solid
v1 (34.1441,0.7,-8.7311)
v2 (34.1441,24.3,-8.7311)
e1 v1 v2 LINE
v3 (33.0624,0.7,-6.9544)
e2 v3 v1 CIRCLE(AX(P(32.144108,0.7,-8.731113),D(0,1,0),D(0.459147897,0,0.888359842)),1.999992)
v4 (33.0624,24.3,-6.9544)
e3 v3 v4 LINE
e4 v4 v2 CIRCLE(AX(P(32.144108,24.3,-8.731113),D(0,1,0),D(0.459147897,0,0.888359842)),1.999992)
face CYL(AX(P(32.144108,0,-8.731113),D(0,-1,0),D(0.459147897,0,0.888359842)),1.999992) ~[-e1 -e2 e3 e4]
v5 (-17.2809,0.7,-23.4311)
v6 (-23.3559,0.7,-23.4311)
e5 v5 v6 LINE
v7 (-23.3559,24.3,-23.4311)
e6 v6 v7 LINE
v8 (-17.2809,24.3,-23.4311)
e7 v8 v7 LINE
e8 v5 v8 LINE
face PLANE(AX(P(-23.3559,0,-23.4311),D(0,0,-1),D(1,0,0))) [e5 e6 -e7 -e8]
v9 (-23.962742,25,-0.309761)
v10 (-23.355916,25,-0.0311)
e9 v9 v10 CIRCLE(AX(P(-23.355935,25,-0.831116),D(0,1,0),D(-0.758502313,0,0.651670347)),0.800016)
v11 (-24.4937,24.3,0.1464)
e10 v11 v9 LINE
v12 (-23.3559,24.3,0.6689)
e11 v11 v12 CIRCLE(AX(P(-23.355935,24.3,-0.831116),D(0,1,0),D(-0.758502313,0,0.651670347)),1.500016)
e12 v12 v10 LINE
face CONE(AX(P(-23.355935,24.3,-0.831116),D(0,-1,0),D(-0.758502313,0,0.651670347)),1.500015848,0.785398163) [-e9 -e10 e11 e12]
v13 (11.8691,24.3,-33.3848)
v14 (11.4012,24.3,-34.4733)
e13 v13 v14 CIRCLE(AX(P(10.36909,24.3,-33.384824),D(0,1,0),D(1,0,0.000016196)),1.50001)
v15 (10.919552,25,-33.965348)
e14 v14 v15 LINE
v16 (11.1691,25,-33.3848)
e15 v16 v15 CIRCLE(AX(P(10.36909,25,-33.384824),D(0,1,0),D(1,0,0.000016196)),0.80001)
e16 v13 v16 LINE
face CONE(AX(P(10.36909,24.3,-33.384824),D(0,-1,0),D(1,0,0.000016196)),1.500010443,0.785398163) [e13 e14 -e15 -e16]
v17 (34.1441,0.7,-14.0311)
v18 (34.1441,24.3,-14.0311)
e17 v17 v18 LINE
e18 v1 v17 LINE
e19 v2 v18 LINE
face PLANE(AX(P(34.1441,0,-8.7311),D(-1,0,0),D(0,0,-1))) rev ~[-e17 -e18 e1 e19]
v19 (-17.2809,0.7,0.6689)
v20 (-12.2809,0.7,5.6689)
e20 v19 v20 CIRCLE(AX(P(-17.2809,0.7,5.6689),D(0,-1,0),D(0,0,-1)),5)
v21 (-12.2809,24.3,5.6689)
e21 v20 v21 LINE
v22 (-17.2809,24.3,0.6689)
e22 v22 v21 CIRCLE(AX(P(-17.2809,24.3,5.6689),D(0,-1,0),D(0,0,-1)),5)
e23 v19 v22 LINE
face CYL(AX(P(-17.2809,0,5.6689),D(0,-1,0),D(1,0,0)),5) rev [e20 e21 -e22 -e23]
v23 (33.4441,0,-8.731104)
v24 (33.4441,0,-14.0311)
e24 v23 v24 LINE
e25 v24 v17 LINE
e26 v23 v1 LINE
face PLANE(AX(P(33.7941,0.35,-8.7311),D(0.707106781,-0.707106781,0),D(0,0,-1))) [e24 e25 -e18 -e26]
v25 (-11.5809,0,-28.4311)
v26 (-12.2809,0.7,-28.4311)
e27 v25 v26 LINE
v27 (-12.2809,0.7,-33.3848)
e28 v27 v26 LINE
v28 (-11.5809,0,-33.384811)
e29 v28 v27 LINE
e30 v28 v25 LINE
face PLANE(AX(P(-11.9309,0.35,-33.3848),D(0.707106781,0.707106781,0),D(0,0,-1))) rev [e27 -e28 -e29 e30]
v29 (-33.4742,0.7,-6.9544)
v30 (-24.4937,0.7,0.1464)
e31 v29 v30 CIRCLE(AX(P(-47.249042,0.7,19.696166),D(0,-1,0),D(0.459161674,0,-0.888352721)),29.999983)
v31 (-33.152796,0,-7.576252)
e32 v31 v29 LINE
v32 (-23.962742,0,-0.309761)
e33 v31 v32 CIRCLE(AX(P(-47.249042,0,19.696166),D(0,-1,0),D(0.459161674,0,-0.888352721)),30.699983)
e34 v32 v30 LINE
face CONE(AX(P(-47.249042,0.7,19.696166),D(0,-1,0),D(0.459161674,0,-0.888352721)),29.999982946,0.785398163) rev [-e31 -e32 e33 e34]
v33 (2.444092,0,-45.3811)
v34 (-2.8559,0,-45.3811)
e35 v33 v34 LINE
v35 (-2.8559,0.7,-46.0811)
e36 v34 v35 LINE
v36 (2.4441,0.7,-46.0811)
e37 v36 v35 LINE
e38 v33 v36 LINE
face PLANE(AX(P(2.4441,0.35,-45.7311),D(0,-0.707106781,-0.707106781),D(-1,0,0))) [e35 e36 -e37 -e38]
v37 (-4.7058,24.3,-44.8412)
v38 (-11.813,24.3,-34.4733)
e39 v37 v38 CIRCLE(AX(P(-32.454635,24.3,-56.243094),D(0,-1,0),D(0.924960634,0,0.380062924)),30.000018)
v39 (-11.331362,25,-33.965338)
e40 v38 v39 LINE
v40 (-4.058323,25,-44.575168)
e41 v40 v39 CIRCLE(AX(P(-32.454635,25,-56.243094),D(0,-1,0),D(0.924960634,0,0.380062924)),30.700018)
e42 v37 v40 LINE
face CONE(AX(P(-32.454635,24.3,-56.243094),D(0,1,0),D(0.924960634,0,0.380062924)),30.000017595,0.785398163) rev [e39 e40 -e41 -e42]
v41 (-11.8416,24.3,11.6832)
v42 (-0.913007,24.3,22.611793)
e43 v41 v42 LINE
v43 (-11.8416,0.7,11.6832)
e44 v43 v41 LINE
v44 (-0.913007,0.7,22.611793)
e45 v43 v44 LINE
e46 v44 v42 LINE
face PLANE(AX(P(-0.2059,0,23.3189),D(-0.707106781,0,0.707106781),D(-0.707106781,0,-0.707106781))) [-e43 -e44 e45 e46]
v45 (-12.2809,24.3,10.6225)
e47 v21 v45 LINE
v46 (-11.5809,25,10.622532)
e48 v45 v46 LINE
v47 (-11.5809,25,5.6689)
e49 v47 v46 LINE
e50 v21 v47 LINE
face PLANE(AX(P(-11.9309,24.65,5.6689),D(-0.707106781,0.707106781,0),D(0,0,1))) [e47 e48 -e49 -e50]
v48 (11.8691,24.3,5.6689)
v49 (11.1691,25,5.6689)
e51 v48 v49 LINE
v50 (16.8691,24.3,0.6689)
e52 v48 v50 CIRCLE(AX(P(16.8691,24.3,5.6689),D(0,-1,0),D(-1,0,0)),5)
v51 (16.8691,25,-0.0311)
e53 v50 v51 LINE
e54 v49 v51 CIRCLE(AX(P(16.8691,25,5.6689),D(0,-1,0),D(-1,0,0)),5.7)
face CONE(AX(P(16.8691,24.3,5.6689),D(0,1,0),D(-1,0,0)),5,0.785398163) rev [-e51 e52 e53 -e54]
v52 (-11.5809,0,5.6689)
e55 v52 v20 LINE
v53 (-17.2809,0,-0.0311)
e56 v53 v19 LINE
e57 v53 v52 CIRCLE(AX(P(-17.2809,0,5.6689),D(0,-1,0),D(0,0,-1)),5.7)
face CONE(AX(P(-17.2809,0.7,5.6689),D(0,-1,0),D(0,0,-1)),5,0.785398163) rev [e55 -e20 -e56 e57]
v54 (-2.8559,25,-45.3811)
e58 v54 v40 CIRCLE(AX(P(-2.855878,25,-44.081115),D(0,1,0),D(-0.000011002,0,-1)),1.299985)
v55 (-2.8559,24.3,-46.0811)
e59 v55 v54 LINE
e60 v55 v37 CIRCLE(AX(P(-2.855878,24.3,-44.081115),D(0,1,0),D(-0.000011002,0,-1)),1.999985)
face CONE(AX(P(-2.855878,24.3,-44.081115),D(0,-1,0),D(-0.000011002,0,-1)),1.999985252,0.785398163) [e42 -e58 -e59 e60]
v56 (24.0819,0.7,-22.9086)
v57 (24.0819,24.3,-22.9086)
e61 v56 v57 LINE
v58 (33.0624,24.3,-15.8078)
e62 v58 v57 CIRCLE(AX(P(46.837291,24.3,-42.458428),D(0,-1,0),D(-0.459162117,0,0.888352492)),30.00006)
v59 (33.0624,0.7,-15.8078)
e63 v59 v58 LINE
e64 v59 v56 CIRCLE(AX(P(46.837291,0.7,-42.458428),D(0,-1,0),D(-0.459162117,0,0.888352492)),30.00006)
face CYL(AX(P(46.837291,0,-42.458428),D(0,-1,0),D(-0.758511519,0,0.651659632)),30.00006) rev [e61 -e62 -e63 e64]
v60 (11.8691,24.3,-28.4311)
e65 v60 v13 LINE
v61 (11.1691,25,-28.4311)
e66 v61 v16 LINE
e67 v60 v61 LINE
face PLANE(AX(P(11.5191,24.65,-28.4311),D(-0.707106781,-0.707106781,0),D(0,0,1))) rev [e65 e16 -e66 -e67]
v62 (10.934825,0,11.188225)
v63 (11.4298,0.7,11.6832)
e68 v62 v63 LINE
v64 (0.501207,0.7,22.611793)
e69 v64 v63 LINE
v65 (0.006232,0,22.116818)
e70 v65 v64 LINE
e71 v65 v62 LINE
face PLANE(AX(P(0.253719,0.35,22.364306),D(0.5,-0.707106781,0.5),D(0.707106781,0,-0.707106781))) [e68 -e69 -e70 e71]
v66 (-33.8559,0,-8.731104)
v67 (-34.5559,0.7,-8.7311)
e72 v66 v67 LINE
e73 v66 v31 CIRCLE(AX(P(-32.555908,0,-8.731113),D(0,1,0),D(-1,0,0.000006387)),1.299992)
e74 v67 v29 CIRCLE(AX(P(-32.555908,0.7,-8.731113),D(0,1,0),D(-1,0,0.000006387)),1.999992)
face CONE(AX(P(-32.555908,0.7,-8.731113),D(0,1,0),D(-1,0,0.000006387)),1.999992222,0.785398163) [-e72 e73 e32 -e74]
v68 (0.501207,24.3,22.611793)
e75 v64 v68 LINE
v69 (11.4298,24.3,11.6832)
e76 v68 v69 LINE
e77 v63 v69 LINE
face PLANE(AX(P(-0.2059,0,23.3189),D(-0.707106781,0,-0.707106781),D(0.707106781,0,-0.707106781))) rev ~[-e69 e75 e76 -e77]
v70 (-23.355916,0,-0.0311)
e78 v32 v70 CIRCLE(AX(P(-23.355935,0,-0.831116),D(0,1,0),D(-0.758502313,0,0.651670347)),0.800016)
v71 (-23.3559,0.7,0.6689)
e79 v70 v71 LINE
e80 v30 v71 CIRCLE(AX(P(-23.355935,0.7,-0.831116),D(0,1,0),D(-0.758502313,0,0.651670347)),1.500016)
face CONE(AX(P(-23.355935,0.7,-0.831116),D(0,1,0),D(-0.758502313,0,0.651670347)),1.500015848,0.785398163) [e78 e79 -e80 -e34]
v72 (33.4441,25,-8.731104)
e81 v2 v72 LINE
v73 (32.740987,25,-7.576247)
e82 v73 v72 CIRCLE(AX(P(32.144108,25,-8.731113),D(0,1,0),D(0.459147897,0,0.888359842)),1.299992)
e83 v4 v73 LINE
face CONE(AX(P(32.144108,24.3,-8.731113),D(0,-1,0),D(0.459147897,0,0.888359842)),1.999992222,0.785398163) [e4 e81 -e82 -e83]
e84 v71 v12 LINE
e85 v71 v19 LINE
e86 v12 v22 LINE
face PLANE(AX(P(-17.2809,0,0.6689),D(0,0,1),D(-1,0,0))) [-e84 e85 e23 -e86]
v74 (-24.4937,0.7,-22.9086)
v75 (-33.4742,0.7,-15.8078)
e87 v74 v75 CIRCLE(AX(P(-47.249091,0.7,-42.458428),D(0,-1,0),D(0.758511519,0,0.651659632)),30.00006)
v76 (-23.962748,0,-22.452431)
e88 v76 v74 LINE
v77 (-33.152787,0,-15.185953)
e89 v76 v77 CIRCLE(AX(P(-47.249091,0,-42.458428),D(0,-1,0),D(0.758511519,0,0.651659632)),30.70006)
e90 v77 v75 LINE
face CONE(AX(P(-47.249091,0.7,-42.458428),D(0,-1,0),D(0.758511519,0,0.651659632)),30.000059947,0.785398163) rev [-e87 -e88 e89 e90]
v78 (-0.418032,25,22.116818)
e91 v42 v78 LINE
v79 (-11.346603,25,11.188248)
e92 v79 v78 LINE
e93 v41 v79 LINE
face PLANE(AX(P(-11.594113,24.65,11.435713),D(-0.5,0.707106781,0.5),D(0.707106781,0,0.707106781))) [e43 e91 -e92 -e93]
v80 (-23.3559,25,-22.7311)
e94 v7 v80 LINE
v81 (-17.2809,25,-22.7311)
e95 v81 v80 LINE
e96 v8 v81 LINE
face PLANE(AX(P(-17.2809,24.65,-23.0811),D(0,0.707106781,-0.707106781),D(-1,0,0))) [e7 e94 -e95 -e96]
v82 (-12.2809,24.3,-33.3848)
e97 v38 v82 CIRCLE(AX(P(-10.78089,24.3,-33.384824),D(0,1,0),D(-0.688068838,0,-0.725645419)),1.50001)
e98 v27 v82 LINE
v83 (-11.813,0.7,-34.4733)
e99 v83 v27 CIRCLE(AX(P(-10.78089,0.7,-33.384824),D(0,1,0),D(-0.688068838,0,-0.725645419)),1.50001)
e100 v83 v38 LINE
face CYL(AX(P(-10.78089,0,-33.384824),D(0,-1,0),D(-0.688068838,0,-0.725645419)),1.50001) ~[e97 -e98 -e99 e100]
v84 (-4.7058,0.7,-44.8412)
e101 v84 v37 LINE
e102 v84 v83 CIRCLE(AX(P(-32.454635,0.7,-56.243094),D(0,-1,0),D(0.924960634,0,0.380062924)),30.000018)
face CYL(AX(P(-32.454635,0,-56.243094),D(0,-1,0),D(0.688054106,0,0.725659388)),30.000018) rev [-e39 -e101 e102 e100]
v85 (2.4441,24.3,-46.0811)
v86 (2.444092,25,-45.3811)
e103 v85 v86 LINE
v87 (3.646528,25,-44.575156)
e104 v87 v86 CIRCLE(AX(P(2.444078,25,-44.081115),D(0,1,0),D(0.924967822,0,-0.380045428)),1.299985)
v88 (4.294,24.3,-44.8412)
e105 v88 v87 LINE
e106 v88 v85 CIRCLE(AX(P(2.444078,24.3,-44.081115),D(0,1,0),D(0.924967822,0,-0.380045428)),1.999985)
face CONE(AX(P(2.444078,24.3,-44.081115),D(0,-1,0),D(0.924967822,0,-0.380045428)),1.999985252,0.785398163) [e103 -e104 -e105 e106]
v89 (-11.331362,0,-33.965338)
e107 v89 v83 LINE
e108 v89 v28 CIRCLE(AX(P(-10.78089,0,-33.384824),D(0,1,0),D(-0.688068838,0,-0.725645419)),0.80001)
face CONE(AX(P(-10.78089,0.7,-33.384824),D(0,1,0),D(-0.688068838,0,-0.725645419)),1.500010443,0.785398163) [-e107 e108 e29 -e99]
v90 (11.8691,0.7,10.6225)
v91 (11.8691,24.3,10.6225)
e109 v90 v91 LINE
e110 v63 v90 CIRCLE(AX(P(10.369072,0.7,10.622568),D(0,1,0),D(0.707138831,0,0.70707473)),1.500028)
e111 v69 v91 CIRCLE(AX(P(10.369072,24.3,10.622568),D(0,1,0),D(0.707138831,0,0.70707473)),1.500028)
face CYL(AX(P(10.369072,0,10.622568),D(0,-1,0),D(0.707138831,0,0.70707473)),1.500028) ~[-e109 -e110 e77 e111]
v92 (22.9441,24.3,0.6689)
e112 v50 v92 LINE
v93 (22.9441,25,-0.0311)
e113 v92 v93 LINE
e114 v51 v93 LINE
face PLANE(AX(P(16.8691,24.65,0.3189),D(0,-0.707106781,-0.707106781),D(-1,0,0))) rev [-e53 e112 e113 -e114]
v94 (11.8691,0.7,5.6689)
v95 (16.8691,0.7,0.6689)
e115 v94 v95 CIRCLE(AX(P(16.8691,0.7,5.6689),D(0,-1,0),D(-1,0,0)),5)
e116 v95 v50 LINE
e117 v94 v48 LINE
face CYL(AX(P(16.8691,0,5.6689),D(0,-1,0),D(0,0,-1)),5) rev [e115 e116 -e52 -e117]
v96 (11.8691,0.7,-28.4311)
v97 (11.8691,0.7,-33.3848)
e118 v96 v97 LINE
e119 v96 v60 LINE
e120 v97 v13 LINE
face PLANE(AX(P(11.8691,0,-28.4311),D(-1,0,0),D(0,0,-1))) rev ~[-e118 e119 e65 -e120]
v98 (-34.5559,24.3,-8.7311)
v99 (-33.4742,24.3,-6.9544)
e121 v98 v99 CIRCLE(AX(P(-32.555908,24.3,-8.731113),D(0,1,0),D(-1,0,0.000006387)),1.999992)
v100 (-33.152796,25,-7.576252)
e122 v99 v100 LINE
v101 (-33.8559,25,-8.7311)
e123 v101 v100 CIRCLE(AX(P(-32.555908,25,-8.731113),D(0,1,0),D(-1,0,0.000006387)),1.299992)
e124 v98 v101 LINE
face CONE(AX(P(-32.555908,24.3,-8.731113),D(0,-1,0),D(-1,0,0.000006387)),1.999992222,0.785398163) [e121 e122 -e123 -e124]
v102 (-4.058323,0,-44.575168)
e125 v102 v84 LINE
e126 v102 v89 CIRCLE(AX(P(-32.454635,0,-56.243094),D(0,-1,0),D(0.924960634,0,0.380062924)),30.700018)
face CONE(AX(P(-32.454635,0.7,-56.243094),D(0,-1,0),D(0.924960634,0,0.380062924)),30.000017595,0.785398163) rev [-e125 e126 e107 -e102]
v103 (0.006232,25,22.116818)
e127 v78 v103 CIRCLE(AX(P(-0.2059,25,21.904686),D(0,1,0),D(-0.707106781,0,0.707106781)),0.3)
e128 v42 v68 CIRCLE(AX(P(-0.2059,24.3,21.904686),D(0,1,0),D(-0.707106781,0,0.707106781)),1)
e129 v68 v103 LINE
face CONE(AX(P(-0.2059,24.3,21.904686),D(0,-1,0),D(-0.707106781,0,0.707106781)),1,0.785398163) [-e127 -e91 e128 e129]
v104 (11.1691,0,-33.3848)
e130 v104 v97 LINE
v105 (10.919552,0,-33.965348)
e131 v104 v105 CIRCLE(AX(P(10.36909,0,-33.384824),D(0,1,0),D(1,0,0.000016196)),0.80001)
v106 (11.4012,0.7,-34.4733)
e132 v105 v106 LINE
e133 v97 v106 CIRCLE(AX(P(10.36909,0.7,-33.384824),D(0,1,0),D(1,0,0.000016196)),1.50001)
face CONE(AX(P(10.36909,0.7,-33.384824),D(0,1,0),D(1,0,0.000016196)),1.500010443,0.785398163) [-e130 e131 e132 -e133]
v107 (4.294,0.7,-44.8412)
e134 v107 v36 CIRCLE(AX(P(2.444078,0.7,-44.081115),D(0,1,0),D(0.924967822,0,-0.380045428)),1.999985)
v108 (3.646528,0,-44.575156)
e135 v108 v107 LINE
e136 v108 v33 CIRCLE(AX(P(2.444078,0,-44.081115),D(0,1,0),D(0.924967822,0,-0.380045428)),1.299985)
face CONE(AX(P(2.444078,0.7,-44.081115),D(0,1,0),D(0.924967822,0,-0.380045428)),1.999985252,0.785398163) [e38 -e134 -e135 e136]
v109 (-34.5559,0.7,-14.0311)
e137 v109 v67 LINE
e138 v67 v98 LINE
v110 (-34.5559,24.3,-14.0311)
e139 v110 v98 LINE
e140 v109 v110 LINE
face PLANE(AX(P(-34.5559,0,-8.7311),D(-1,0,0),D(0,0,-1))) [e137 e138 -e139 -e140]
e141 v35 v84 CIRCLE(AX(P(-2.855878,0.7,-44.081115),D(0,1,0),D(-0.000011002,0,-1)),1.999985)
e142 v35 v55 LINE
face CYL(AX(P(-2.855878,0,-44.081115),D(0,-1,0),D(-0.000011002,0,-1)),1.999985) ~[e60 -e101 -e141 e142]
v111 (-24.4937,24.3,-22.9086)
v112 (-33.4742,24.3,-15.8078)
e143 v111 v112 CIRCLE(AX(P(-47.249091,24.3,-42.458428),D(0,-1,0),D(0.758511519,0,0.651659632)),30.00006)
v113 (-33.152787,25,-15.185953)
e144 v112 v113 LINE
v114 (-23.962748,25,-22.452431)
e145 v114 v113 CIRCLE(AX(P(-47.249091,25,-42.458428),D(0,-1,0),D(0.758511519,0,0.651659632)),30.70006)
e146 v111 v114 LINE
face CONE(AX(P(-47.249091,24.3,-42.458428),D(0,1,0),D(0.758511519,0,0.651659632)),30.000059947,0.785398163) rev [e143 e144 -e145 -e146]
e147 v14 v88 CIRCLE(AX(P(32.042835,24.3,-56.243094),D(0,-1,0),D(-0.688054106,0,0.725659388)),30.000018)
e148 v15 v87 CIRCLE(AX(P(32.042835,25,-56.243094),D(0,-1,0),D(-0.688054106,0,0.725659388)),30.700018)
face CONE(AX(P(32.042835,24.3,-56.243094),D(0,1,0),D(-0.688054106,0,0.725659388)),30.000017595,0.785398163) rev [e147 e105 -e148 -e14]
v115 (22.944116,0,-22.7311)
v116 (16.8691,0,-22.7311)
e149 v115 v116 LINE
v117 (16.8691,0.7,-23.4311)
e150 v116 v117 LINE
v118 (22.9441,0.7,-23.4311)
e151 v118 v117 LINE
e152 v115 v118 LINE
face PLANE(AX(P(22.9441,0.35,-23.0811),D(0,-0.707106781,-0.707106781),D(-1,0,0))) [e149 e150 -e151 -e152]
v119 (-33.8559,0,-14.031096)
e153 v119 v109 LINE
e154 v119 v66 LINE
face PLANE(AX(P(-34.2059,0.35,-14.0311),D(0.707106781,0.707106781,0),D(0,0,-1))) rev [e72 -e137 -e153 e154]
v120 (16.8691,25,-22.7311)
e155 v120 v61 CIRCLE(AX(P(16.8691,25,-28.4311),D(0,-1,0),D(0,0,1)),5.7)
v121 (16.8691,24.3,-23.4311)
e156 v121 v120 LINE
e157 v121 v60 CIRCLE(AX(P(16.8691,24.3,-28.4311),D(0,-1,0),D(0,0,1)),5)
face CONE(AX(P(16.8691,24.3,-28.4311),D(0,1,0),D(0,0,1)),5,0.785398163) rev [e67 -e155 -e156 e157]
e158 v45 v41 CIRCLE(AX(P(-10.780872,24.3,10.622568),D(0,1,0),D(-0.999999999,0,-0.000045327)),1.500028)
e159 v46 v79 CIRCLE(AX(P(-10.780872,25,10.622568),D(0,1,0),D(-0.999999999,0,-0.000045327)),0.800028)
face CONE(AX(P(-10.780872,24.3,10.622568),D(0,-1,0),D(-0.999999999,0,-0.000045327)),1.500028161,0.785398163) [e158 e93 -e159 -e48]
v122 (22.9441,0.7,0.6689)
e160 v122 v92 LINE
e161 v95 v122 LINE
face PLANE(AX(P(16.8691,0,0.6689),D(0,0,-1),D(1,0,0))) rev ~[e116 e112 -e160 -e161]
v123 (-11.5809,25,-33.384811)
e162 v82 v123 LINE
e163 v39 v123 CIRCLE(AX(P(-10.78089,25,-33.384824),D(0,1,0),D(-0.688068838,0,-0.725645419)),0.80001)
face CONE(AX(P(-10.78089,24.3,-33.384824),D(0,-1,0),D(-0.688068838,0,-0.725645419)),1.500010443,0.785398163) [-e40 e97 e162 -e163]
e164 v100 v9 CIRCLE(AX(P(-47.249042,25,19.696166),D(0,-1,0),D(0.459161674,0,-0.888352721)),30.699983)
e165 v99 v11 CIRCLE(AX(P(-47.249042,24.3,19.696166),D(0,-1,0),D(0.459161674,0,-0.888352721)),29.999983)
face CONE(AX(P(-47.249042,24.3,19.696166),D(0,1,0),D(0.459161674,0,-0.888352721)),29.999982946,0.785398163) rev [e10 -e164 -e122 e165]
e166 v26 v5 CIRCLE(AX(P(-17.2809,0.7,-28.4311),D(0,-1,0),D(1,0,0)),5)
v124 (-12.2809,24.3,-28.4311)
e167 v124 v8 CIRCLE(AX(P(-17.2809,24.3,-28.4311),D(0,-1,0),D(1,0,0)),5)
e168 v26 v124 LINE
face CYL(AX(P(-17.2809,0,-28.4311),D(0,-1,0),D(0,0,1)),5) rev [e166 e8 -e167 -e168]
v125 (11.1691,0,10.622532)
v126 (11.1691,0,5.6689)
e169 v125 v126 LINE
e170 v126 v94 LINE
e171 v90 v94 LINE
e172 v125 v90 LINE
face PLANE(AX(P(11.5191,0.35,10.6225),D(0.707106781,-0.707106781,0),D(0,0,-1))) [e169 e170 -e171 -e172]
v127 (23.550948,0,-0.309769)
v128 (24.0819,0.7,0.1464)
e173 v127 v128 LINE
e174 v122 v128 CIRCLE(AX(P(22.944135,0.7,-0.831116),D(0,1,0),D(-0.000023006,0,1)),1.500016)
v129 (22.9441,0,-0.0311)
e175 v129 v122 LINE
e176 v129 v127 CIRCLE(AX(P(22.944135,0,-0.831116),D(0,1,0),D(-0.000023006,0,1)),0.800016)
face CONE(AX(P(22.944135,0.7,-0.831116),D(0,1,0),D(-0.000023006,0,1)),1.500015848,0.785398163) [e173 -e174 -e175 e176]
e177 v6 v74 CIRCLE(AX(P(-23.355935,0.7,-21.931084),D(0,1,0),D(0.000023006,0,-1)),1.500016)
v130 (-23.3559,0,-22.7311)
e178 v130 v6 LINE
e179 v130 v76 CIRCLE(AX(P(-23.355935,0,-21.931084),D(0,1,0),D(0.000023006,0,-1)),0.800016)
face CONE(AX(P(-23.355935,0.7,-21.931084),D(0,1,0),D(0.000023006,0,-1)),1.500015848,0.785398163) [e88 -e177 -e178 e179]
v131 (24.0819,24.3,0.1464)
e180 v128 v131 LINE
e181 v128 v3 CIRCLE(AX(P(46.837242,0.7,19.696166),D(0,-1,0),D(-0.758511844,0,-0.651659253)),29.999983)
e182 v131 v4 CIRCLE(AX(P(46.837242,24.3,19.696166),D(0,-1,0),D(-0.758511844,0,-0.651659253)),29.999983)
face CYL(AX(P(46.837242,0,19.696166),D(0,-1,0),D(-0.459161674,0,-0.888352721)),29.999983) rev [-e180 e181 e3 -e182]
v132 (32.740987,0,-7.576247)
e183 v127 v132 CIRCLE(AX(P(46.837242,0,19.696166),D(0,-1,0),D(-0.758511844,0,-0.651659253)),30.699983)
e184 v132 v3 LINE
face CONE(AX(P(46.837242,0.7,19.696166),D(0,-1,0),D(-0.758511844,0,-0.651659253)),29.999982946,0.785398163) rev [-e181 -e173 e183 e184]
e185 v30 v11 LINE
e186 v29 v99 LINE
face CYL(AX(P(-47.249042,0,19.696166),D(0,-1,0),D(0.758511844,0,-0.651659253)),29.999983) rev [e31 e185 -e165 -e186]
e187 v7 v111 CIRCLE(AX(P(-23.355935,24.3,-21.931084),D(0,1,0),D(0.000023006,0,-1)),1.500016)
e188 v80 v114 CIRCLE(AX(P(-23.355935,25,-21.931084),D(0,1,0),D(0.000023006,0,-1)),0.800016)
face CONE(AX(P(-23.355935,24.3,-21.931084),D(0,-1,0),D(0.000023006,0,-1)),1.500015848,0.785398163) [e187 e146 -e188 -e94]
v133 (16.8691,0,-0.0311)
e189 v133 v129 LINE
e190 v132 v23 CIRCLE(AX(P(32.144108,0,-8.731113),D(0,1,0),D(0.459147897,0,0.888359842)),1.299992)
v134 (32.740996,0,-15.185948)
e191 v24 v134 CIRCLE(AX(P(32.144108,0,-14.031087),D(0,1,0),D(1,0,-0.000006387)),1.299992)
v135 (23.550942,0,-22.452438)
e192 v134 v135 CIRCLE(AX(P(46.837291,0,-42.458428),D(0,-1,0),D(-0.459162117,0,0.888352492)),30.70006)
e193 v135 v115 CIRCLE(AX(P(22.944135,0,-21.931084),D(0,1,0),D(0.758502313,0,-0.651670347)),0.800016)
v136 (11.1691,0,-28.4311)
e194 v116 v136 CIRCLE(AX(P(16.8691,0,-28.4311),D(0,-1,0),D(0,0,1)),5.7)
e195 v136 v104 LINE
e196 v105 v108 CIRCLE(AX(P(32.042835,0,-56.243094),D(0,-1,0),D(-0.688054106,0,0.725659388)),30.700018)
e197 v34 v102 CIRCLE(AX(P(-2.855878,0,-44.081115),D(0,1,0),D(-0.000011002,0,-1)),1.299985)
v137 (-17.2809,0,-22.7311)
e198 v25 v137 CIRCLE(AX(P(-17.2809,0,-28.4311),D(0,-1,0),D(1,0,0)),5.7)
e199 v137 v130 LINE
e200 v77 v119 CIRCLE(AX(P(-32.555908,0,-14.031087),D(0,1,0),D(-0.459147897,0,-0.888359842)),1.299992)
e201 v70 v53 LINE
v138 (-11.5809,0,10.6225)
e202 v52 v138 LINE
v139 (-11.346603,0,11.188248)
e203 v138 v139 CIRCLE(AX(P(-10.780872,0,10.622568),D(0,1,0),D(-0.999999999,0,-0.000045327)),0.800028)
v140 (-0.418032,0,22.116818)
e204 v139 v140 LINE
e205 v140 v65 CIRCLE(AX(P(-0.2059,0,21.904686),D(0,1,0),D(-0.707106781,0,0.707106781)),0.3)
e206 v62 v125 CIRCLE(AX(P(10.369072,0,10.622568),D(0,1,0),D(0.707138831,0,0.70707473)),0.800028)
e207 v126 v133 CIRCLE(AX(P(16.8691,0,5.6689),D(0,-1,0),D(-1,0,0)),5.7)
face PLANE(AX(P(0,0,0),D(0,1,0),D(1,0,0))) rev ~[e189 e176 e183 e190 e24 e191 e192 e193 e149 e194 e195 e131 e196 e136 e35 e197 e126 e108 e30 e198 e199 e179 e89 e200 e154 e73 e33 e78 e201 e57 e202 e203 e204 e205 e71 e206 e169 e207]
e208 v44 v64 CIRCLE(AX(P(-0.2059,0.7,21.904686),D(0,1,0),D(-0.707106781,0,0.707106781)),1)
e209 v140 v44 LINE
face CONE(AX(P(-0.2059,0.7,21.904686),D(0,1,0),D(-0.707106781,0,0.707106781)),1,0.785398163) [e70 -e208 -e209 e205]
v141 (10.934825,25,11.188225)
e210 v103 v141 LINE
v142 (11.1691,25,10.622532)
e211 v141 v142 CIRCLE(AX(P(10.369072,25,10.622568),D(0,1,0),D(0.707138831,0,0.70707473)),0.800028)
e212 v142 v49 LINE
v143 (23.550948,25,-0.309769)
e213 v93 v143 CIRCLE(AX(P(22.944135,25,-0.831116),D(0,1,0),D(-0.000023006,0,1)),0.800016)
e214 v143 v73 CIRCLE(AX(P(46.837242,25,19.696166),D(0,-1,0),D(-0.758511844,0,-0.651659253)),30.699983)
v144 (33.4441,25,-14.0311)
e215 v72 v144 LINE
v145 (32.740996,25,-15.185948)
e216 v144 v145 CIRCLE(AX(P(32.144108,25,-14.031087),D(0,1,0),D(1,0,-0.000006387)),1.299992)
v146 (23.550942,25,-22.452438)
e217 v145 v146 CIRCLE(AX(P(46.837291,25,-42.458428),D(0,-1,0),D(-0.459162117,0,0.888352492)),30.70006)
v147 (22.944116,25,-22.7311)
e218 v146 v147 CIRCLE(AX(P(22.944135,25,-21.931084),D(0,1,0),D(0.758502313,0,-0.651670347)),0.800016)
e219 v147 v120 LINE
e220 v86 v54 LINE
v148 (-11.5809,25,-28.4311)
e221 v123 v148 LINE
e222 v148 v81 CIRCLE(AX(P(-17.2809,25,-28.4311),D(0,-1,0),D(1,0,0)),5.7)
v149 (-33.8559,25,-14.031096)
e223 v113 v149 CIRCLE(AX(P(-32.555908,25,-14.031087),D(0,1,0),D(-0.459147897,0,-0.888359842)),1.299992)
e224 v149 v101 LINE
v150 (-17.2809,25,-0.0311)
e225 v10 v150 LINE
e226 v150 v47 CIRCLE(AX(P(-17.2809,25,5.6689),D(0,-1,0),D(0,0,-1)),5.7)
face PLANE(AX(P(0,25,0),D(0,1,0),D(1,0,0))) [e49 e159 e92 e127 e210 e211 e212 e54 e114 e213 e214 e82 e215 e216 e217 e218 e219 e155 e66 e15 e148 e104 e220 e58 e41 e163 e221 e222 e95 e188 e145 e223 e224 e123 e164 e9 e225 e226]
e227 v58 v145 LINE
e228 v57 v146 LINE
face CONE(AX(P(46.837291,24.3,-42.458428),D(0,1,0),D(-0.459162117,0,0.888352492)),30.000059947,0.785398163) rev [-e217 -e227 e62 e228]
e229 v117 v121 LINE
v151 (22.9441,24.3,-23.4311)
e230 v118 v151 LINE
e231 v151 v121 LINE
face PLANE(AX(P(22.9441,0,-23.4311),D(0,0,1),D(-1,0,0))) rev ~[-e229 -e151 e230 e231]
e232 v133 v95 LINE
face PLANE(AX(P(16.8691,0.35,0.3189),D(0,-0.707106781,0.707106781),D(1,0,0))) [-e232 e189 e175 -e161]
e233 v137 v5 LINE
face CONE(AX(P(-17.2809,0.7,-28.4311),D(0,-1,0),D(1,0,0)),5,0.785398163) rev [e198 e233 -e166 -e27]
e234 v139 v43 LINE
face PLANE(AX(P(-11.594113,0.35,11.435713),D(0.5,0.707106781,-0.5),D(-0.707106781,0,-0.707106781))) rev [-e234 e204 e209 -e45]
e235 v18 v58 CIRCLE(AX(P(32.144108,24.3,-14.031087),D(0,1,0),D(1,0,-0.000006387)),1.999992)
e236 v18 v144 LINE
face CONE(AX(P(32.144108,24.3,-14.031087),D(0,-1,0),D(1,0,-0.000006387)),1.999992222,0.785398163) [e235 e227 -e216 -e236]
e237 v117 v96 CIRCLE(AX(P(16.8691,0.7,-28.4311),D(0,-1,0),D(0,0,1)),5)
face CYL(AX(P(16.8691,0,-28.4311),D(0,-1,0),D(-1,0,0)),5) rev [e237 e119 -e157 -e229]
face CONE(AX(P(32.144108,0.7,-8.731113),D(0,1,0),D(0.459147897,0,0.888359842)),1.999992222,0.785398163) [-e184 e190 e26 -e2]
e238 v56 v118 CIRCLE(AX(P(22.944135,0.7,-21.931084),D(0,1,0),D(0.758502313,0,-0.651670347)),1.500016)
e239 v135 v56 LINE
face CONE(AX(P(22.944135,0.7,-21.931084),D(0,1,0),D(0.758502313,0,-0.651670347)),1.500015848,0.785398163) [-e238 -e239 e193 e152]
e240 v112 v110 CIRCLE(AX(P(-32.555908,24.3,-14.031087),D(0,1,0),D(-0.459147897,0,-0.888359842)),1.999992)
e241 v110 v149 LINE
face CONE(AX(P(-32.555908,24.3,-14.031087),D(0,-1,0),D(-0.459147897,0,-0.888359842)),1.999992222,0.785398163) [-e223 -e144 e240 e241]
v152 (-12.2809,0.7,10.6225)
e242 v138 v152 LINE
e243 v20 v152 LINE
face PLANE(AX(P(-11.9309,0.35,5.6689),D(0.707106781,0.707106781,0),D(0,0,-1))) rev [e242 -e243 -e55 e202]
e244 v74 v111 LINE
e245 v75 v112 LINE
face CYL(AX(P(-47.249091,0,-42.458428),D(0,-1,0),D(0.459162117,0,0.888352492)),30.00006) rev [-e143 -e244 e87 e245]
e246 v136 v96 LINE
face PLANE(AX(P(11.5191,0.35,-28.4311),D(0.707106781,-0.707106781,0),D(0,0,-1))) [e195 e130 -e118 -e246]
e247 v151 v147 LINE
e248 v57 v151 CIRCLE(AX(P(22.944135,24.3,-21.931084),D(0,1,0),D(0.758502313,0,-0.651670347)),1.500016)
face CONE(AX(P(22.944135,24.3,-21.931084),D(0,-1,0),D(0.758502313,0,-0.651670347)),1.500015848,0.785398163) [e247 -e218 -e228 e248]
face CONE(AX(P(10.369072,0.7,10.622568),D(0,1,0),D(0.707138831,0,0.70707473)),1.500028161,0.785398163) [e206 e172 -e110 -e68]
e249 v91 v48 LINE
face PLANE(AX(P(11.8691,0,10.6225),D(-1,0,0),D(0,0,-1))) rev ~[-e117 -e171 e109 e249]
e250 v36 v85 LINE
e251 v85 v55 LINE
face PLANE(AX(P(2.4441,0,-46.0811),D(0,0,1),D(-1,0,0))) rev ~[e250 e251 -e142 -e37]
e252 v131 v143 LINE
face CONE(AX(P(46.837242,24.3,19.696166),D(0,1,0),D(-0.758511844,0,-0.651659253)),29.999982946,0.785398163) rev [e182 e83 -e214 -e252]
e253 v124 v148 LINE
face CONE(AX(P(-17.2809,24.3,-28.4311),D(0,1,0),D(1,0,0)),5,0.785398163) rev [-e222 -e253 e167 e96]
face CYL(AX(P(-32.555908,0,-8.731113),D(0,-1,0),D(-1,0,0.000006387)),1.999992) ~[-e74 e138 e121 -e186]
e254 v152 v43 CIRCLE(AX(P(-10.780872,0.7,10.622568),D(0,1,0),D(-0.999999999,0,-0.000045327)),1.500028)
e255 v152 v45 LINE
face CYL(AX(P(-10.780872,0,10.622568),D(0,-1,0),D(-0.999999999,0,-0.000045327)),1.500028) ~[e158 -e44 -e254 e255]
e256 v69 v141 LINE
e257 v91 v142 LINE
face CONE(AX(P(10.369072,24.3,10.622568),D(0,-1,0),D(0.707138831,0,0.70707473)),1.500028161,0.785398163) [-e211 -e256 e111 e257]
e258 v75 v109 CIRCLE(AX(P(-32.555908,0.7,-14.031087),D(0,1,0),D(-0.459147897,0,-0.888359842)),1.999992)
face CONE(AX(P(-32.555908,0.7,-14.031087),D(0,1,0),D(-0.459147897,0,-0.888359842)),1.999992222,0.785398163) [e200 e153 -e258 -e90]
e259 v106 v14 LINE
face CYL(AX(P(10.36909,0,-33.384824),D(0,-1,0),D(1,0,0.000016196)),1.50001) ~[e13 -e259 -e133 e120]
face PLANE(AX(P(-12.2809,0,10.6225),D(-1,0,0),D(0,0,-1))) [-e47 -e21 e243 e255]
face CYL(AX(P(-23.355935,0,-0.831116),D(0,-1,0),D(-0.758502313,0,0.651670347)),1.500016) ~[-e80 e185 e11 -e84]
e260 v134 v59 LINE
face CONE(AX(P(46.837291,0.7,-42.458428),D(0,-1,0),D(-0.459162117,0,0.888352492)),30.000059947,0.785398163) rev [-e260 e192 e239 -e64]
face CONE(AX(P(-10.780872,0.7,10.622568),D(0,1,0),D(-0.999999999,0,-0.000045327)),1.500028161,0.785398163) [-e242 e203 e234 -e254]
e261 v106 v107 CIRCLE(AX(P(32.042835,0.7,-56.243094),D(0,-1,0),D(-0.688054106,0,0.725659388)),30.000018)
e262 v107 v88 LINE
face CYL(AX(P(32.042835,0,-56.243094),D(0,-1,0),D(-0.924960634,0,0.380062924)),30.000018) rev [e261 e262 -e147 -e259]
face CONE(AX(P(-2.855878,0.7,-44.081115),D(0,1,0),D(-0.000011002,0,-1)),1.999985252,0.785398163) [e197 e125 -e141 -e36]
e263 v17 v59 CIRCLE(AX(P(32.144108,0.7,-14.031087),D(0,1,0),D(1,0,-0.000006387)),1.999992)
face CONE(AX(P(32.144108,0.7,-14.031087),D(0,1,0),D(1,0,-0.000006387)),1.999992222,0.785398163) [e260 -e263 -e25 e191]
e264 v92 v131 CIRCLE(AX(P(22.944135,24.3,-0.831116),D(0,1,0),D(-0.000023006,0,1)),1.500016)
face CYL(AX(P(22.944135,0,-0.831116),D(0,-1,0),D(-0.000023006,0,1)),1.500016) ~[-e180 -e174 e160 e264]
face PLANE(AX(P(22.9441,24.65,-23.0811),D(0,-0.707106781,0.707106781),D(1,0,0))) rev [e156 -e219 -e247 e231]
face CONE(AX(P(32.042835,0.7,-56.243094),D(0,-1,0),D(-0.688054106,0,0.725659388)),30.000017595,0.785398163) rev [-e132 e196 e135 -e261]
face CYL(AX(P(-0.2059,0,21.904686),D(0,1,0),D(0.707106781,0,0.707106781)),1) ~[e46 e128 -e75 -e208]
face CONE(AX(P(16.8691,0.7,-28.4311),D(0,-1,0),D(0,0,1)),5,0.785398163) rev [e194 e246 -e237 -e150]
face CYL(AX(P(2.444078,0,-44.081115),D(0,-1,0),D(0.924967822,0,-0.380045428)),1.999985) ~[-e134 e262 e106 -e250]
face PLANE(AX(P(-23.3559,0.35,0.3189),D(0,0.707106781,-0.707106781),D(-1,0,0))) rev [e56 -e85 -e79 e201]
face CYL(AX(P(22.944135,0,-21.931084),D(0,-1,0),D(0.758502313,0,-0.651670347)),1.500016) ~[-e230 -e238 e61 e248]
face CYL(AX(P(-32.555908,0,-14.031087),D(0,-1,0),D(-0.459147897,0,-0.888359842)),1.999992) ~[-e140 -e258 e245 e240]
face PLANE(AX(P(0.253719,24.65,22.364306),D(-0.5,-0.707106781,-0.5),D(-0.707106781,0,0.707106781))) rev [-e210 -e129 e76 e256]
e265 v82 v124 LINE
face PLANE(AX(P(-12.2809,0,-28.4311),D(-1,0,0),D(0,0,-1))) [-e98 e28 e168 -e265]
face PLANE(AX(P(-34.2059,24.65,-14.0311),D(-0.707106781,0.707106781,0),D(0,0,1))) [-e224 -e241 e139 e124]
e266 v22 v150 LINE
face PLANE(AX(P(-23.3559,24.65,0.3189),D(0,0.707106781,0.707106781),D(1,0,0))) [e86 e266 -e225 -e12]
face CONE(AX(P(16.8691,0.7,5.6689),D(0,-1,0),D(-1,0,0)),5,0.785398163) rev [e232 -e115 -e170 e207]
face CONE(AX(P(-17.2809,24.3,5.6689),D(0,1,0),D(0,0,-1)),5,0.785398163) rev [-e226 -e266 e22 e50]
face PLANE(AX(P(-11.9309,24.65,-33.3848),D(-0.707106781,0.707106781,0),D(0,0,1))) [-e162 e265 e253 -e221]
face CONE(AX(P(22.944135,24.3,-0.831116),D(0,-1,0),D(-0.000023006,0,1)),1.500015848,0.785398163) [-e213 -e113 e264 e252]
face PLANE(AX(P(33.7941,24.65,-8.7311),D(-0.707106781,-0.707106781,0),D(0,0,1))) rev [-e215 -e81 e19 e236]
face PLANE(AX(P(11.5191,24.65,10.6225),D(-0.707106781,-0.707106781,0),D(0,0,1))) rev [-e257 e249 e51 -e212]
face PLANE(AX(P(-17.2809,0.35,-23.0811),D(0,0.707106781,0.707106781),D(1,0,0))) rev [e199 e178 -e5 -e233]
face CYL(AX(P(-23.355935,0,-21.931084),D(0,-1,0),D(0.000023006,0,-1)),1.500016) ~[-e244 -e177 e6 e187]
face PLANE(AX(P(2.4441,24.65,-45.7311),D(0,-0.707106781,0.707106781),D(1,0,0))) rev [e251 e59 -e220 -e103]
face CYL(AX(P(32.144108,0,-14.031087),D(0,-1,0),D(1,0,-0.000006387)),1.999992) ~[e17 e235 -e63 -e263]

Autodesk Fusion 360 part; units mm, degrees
sketch "Sketch2" plane through (0, 0, 0) normal (0, 1, 0) x (1, 0, 0)
  line L0 (-0.2059, -23.3189) -> (11.4298, -11.6832)
  line L1 (11.8691, -10.6225) -> (11.8691, -5.6689)
  line L2 (16.8691, -0.6689) -> (22.9441, -0.6689)
  line L3 (34.1441, 8.7311) -> (34.1441, 14.0311)
  line L4 (22.9441, 23.4311) -> (16.8691, 23.4311)
  line L5 (11.8691, 28.4311) -> (11.8691, 33.3848)
  line L6 (2.4441, 46.0811) -> (-0.2059, 46.0811)
  line L7 (-0.2059, 46.0811) -> (-0.2059, -23.3189)
  arc A0 (16.8691, -0.6689) -> (11.8691, -5.6689) centre (16.8691, -5.6689) ccw
  arc A1 (11.8691, 28.4311) -> (16.8691, 23.4311) centre (16.8691, 28.4311) ccw
  arc A2 (33.0624, 6.9544) -> (24.0819, -0.1464) centre (46.8372, -19.6962) ccw
  arc A3 (24.0819, 22.9086) -> (33.0624, 15.8078) centre (46.8372, 42.4585) ccw
  arc A4 (4.294, 44.8412) -> (11.4012, 34.4733) centre (32.0429, 56.243) ccw
  arc A5 (11.4298, -11.6832) -> (11.8691, -10.6225) centre (10.3691, -10.6225) ccw
  arc A6 (22.9441, -0.6689) -> (24.0819, -0.1464) centre (22.9441, 0.8311) ccw
  arc A7 (33.0624, 6.9544) -> (34.1441, 8.7311) centre (32.1441, 8.7311) ccw
  arc A8 (34.1441, 14.0311) -> (33.0624, 15.8078) centre (32.1441, 14.0311) ccw
  arc A9 (24.0819, 22.9086) -> (22.9441, 23.4311) centre (22.9441, 21.9311) ccw
  arc A10 (11.8691, 33.3848) -> (11.4012, 34.4733) centre (10.3691, 33.3848) ccw
  arc A11 (4.294, 44.8412) -> (2.4441, 46.0811) centre (2.4441, 44.0811) ccw
  line L8 (-34.5559, 8.7311) -> (-34.5559, 14.0311)
  arc A12 (-24.4937, -0.1464) -> (-33.4742, 6.9544) centre (-47.249, -19.6962) ccw
  arc A13 (-23.3559, 23.4311) -> (-24.4937, 22.9086) centre (-23.3559, 21.9311) ccw
  arc A14 (-11.813, 34.4733) -> (-12.2809, 33.3848) centre (-10.7809, 33.3848) ccw
  arc A15 (-11.813, 34.4733) -> (-4.7058, 44.8412) centre (-32.4547, 56.243) ccw
  line L9 (-12.2809, -10.6225) -> (-12.2809, -5.6689)
  arc A16 (-33.4742, 15.8078) -> (-24.4937, 22.9086) centre (-47.249, 42.4585) ccw
  arc A17 (-2.8559, 46.0811) -> (-4.7058, 44.8412) centre (-2.8559, 44.0811) ccw
  arc A18 (-24.4937, -0.1464) -> (-23.3559, -0.6689) centre (-23.3559, 0.8311) ccw
  line L10 (-0.2059, -23.3189) -> (-11.8416, -11.6832)
  arc A19 (-34.5559, 8.7311) -> (-33.4742, 6.9544) centre (-32.5559, 8.7311) ccw
  arc A20 (-12.2809, -5.6689) -> (-17.2809, -0.6689) centre (-17.2809, -5.6689) ccw
  line L11 (-17.2809, -0.6689) -> (-23.3559, -0.6689)
  line L12 (-2.8559, 46.0811) -> (-0.2059, 46.0811)
  arc A21 (-33.4742, 15.8078) -> (-34.5559, 14.0311) centre (-32.5559, 14.0311) ccw
  arc A22 (-12.2809, -10.6225) -> (-11.8416, -11.6832) centre (-10.7809, -10.6225) ccw
  line L13 (-12.2809, 28.4311) -> (-12.2809, 33.3848)
  arc A23 (-17.2809, 23.4311) -> (-12.2809, 28.4311) centre (-17.2809, 28.4311) ccw
  line L14 (-23.3559, 23.4311) -> (-17.2809, 23.4311)
  line L15 (-38.524, 11.3811) -> (38.1122, 11.3811) construction
  line L16 (22.9441, -0.6689) -> (22.9441, 23.4311) construction
  point P0 (-0.4118, 0)
  dimension "d1" = 5
  dimension "d2" = 30
  dimension "d3" = 30
  dimension "d4" = 30
  dimension "d5" = 1.5
  dimension "d8" = 69.4
  dimension "d9" = 12.075
  dimension "d10" = 34.35
  dimension "d11" = 24.1
  dimension "d34" = 23.15
  dimension "d36" = 5.3
  dimension "d37" = 2.65
  dimension "d38" = 5
  dimension "d39" = 1.5
  dimension "d40" = 2
  dimension "d41" = 2
  dimension "d42" = 1.5
  dimension "d43" = 1.5
  dimension "d44" = 2
  dimension "d46" = 45
extrude "Extrude1" add sketch "Sketch2" along normal blind 25
shell "Shell1" thickness 2.4 removed faces 1 at (4.2262, 25, -15.973)
fillet "Fillet1" radius 1 1 edges at (-0.2059, 12.5, 23.3189)
chamfer "Chamfer1" distance 0.7 angle 45 39 edges at (-12.1667, 25, 11.1966) (-6.3773, 25, 17.1475) (-0.2059, 25, 22.9047) (5.9655, 25, 17.1475) (11.7549, 25, 11.1966) (11.8691, 25, 8.1457) (13.3336, 25, 2.1333) (19.9066, 25, 0.6689) (23.5701, 25, 0.532) (28.2303, 25, -3.8364) (33.8524, 25, -7.6911) (34.1441, 25, -11.3811) (33.8524, 25, -15.0712) (28.2303, 25, -18.9259) (23.5701, 25, -23.2943) (19.9066, 25, -23.4311) (13.3336, 25, -24.8956) (11.8691, 25, -30.908) (11.7472, 25, -33.9772) (7.2985, 25, -39.2809) (3.5576, 25, -45.7425) (1.1191, 25, -46.0811) (-1.5309, 25, -46.0811) (-3.9694, 25, -45.7425) (-7.7103, 25, -39.2809) (-12.159, 25, -33.9772) (-12.2809, 25, -30.908) (-13.7454, 25, -24.8956) (-20.3184, 25, -23.4311) (-23.9819, 25, -23.2943) (-28.6421, 25, -18.9259) (-34.2642, 25, -15.0712) (-34.5559, 25, -11.3811) (-34.2642, 25, -7.6911) (-28.6421, 25, -3.8364) (-23.9819, 25, 0.532) (-20.3184, 25, 0.6689) (-13.7454, 25, 2.1333) (-12.2809, 25, 8.1457)
chamfer "Chamfer2" distance 0.7 angle 45 39 edges at (-34.2642, 0, -7.6911) (-34.5559, 0, -11.3811) (-34.2642, 0, -15.0712) (-28.6421, 0, -18.9259) (-23.9819, 0, -23.2943) (-20.3184, 0, -23.4311) (-13.7454, 0, -24.8956) (-12.2809, 0, -30.908) (-12.159, 0, -33.9772) (-7.7103, 0, -39.2809) (-3.9694, 0, -45.7425) (-1.5309, 0, -46.0811) (1.1191, 0, -46.0811) (3.5576, 0, -45.7425) (7.2985, 0, -39.2809) (11.7472, 0, -33.9772) (11.8691, 0, -30.908) (13.3336, 0, -24.8956) (19.9066, 0, -23.4311) (23.5701, 0, -23.2943) (28.2303, 0, -18.9259) (33.8524, 0, -15.0712) (34.1441, 0, -11.3811) (33.8524, 0, -7.6911) (28.2303, 0, -3.8364) (23.5701, 0, 0.532) (19.9066, 0, 0.6689) (13.3336, 0, 2.1333) (11.8691, 0, 8.1457) (11.7549, 0, 11.1966) (5.9655, 0, 17.1475) (-0.2059, 0, 22.9047) (-6.3773, 0, 17.1475) (-12.1667, 0, 11.1966) (-12.2809, 0, 8.1457) (-13.7454, 0, 2.1333) (-20.3184, 0, 0.6689) (-23.9819, 0, 0.532) (-28.6421, 0, -3.8364)
extrude "Extrude5" add 1 faces at (4.0498, 0, -15.8202) along direction (0, 1, 0) blind 4
equation "d3 = d2"
equation "d4 = d2"
equation "d8 = 69.8 mm - 0.4 mm"
equation "d9 = ( 24.35 / 2 ) * 1 mm - 0.1 mm"
equation "d10 = ( 69.1 / 2 ) * 1 mm - 0.2 mm"
equation "d11 = 24.5 mm - 0.4 mm"
equation "d34 = ( 46.7 / 2 ) * 1 mm - 0.2 mm"
equation "d37 = d36 / 2"
equation "d38 = d1"
equation "d39 = d5"
equation "d41 = d40"
equation "d42 = d5"
equation "d43 = d5"
equation "d44 = d40"
